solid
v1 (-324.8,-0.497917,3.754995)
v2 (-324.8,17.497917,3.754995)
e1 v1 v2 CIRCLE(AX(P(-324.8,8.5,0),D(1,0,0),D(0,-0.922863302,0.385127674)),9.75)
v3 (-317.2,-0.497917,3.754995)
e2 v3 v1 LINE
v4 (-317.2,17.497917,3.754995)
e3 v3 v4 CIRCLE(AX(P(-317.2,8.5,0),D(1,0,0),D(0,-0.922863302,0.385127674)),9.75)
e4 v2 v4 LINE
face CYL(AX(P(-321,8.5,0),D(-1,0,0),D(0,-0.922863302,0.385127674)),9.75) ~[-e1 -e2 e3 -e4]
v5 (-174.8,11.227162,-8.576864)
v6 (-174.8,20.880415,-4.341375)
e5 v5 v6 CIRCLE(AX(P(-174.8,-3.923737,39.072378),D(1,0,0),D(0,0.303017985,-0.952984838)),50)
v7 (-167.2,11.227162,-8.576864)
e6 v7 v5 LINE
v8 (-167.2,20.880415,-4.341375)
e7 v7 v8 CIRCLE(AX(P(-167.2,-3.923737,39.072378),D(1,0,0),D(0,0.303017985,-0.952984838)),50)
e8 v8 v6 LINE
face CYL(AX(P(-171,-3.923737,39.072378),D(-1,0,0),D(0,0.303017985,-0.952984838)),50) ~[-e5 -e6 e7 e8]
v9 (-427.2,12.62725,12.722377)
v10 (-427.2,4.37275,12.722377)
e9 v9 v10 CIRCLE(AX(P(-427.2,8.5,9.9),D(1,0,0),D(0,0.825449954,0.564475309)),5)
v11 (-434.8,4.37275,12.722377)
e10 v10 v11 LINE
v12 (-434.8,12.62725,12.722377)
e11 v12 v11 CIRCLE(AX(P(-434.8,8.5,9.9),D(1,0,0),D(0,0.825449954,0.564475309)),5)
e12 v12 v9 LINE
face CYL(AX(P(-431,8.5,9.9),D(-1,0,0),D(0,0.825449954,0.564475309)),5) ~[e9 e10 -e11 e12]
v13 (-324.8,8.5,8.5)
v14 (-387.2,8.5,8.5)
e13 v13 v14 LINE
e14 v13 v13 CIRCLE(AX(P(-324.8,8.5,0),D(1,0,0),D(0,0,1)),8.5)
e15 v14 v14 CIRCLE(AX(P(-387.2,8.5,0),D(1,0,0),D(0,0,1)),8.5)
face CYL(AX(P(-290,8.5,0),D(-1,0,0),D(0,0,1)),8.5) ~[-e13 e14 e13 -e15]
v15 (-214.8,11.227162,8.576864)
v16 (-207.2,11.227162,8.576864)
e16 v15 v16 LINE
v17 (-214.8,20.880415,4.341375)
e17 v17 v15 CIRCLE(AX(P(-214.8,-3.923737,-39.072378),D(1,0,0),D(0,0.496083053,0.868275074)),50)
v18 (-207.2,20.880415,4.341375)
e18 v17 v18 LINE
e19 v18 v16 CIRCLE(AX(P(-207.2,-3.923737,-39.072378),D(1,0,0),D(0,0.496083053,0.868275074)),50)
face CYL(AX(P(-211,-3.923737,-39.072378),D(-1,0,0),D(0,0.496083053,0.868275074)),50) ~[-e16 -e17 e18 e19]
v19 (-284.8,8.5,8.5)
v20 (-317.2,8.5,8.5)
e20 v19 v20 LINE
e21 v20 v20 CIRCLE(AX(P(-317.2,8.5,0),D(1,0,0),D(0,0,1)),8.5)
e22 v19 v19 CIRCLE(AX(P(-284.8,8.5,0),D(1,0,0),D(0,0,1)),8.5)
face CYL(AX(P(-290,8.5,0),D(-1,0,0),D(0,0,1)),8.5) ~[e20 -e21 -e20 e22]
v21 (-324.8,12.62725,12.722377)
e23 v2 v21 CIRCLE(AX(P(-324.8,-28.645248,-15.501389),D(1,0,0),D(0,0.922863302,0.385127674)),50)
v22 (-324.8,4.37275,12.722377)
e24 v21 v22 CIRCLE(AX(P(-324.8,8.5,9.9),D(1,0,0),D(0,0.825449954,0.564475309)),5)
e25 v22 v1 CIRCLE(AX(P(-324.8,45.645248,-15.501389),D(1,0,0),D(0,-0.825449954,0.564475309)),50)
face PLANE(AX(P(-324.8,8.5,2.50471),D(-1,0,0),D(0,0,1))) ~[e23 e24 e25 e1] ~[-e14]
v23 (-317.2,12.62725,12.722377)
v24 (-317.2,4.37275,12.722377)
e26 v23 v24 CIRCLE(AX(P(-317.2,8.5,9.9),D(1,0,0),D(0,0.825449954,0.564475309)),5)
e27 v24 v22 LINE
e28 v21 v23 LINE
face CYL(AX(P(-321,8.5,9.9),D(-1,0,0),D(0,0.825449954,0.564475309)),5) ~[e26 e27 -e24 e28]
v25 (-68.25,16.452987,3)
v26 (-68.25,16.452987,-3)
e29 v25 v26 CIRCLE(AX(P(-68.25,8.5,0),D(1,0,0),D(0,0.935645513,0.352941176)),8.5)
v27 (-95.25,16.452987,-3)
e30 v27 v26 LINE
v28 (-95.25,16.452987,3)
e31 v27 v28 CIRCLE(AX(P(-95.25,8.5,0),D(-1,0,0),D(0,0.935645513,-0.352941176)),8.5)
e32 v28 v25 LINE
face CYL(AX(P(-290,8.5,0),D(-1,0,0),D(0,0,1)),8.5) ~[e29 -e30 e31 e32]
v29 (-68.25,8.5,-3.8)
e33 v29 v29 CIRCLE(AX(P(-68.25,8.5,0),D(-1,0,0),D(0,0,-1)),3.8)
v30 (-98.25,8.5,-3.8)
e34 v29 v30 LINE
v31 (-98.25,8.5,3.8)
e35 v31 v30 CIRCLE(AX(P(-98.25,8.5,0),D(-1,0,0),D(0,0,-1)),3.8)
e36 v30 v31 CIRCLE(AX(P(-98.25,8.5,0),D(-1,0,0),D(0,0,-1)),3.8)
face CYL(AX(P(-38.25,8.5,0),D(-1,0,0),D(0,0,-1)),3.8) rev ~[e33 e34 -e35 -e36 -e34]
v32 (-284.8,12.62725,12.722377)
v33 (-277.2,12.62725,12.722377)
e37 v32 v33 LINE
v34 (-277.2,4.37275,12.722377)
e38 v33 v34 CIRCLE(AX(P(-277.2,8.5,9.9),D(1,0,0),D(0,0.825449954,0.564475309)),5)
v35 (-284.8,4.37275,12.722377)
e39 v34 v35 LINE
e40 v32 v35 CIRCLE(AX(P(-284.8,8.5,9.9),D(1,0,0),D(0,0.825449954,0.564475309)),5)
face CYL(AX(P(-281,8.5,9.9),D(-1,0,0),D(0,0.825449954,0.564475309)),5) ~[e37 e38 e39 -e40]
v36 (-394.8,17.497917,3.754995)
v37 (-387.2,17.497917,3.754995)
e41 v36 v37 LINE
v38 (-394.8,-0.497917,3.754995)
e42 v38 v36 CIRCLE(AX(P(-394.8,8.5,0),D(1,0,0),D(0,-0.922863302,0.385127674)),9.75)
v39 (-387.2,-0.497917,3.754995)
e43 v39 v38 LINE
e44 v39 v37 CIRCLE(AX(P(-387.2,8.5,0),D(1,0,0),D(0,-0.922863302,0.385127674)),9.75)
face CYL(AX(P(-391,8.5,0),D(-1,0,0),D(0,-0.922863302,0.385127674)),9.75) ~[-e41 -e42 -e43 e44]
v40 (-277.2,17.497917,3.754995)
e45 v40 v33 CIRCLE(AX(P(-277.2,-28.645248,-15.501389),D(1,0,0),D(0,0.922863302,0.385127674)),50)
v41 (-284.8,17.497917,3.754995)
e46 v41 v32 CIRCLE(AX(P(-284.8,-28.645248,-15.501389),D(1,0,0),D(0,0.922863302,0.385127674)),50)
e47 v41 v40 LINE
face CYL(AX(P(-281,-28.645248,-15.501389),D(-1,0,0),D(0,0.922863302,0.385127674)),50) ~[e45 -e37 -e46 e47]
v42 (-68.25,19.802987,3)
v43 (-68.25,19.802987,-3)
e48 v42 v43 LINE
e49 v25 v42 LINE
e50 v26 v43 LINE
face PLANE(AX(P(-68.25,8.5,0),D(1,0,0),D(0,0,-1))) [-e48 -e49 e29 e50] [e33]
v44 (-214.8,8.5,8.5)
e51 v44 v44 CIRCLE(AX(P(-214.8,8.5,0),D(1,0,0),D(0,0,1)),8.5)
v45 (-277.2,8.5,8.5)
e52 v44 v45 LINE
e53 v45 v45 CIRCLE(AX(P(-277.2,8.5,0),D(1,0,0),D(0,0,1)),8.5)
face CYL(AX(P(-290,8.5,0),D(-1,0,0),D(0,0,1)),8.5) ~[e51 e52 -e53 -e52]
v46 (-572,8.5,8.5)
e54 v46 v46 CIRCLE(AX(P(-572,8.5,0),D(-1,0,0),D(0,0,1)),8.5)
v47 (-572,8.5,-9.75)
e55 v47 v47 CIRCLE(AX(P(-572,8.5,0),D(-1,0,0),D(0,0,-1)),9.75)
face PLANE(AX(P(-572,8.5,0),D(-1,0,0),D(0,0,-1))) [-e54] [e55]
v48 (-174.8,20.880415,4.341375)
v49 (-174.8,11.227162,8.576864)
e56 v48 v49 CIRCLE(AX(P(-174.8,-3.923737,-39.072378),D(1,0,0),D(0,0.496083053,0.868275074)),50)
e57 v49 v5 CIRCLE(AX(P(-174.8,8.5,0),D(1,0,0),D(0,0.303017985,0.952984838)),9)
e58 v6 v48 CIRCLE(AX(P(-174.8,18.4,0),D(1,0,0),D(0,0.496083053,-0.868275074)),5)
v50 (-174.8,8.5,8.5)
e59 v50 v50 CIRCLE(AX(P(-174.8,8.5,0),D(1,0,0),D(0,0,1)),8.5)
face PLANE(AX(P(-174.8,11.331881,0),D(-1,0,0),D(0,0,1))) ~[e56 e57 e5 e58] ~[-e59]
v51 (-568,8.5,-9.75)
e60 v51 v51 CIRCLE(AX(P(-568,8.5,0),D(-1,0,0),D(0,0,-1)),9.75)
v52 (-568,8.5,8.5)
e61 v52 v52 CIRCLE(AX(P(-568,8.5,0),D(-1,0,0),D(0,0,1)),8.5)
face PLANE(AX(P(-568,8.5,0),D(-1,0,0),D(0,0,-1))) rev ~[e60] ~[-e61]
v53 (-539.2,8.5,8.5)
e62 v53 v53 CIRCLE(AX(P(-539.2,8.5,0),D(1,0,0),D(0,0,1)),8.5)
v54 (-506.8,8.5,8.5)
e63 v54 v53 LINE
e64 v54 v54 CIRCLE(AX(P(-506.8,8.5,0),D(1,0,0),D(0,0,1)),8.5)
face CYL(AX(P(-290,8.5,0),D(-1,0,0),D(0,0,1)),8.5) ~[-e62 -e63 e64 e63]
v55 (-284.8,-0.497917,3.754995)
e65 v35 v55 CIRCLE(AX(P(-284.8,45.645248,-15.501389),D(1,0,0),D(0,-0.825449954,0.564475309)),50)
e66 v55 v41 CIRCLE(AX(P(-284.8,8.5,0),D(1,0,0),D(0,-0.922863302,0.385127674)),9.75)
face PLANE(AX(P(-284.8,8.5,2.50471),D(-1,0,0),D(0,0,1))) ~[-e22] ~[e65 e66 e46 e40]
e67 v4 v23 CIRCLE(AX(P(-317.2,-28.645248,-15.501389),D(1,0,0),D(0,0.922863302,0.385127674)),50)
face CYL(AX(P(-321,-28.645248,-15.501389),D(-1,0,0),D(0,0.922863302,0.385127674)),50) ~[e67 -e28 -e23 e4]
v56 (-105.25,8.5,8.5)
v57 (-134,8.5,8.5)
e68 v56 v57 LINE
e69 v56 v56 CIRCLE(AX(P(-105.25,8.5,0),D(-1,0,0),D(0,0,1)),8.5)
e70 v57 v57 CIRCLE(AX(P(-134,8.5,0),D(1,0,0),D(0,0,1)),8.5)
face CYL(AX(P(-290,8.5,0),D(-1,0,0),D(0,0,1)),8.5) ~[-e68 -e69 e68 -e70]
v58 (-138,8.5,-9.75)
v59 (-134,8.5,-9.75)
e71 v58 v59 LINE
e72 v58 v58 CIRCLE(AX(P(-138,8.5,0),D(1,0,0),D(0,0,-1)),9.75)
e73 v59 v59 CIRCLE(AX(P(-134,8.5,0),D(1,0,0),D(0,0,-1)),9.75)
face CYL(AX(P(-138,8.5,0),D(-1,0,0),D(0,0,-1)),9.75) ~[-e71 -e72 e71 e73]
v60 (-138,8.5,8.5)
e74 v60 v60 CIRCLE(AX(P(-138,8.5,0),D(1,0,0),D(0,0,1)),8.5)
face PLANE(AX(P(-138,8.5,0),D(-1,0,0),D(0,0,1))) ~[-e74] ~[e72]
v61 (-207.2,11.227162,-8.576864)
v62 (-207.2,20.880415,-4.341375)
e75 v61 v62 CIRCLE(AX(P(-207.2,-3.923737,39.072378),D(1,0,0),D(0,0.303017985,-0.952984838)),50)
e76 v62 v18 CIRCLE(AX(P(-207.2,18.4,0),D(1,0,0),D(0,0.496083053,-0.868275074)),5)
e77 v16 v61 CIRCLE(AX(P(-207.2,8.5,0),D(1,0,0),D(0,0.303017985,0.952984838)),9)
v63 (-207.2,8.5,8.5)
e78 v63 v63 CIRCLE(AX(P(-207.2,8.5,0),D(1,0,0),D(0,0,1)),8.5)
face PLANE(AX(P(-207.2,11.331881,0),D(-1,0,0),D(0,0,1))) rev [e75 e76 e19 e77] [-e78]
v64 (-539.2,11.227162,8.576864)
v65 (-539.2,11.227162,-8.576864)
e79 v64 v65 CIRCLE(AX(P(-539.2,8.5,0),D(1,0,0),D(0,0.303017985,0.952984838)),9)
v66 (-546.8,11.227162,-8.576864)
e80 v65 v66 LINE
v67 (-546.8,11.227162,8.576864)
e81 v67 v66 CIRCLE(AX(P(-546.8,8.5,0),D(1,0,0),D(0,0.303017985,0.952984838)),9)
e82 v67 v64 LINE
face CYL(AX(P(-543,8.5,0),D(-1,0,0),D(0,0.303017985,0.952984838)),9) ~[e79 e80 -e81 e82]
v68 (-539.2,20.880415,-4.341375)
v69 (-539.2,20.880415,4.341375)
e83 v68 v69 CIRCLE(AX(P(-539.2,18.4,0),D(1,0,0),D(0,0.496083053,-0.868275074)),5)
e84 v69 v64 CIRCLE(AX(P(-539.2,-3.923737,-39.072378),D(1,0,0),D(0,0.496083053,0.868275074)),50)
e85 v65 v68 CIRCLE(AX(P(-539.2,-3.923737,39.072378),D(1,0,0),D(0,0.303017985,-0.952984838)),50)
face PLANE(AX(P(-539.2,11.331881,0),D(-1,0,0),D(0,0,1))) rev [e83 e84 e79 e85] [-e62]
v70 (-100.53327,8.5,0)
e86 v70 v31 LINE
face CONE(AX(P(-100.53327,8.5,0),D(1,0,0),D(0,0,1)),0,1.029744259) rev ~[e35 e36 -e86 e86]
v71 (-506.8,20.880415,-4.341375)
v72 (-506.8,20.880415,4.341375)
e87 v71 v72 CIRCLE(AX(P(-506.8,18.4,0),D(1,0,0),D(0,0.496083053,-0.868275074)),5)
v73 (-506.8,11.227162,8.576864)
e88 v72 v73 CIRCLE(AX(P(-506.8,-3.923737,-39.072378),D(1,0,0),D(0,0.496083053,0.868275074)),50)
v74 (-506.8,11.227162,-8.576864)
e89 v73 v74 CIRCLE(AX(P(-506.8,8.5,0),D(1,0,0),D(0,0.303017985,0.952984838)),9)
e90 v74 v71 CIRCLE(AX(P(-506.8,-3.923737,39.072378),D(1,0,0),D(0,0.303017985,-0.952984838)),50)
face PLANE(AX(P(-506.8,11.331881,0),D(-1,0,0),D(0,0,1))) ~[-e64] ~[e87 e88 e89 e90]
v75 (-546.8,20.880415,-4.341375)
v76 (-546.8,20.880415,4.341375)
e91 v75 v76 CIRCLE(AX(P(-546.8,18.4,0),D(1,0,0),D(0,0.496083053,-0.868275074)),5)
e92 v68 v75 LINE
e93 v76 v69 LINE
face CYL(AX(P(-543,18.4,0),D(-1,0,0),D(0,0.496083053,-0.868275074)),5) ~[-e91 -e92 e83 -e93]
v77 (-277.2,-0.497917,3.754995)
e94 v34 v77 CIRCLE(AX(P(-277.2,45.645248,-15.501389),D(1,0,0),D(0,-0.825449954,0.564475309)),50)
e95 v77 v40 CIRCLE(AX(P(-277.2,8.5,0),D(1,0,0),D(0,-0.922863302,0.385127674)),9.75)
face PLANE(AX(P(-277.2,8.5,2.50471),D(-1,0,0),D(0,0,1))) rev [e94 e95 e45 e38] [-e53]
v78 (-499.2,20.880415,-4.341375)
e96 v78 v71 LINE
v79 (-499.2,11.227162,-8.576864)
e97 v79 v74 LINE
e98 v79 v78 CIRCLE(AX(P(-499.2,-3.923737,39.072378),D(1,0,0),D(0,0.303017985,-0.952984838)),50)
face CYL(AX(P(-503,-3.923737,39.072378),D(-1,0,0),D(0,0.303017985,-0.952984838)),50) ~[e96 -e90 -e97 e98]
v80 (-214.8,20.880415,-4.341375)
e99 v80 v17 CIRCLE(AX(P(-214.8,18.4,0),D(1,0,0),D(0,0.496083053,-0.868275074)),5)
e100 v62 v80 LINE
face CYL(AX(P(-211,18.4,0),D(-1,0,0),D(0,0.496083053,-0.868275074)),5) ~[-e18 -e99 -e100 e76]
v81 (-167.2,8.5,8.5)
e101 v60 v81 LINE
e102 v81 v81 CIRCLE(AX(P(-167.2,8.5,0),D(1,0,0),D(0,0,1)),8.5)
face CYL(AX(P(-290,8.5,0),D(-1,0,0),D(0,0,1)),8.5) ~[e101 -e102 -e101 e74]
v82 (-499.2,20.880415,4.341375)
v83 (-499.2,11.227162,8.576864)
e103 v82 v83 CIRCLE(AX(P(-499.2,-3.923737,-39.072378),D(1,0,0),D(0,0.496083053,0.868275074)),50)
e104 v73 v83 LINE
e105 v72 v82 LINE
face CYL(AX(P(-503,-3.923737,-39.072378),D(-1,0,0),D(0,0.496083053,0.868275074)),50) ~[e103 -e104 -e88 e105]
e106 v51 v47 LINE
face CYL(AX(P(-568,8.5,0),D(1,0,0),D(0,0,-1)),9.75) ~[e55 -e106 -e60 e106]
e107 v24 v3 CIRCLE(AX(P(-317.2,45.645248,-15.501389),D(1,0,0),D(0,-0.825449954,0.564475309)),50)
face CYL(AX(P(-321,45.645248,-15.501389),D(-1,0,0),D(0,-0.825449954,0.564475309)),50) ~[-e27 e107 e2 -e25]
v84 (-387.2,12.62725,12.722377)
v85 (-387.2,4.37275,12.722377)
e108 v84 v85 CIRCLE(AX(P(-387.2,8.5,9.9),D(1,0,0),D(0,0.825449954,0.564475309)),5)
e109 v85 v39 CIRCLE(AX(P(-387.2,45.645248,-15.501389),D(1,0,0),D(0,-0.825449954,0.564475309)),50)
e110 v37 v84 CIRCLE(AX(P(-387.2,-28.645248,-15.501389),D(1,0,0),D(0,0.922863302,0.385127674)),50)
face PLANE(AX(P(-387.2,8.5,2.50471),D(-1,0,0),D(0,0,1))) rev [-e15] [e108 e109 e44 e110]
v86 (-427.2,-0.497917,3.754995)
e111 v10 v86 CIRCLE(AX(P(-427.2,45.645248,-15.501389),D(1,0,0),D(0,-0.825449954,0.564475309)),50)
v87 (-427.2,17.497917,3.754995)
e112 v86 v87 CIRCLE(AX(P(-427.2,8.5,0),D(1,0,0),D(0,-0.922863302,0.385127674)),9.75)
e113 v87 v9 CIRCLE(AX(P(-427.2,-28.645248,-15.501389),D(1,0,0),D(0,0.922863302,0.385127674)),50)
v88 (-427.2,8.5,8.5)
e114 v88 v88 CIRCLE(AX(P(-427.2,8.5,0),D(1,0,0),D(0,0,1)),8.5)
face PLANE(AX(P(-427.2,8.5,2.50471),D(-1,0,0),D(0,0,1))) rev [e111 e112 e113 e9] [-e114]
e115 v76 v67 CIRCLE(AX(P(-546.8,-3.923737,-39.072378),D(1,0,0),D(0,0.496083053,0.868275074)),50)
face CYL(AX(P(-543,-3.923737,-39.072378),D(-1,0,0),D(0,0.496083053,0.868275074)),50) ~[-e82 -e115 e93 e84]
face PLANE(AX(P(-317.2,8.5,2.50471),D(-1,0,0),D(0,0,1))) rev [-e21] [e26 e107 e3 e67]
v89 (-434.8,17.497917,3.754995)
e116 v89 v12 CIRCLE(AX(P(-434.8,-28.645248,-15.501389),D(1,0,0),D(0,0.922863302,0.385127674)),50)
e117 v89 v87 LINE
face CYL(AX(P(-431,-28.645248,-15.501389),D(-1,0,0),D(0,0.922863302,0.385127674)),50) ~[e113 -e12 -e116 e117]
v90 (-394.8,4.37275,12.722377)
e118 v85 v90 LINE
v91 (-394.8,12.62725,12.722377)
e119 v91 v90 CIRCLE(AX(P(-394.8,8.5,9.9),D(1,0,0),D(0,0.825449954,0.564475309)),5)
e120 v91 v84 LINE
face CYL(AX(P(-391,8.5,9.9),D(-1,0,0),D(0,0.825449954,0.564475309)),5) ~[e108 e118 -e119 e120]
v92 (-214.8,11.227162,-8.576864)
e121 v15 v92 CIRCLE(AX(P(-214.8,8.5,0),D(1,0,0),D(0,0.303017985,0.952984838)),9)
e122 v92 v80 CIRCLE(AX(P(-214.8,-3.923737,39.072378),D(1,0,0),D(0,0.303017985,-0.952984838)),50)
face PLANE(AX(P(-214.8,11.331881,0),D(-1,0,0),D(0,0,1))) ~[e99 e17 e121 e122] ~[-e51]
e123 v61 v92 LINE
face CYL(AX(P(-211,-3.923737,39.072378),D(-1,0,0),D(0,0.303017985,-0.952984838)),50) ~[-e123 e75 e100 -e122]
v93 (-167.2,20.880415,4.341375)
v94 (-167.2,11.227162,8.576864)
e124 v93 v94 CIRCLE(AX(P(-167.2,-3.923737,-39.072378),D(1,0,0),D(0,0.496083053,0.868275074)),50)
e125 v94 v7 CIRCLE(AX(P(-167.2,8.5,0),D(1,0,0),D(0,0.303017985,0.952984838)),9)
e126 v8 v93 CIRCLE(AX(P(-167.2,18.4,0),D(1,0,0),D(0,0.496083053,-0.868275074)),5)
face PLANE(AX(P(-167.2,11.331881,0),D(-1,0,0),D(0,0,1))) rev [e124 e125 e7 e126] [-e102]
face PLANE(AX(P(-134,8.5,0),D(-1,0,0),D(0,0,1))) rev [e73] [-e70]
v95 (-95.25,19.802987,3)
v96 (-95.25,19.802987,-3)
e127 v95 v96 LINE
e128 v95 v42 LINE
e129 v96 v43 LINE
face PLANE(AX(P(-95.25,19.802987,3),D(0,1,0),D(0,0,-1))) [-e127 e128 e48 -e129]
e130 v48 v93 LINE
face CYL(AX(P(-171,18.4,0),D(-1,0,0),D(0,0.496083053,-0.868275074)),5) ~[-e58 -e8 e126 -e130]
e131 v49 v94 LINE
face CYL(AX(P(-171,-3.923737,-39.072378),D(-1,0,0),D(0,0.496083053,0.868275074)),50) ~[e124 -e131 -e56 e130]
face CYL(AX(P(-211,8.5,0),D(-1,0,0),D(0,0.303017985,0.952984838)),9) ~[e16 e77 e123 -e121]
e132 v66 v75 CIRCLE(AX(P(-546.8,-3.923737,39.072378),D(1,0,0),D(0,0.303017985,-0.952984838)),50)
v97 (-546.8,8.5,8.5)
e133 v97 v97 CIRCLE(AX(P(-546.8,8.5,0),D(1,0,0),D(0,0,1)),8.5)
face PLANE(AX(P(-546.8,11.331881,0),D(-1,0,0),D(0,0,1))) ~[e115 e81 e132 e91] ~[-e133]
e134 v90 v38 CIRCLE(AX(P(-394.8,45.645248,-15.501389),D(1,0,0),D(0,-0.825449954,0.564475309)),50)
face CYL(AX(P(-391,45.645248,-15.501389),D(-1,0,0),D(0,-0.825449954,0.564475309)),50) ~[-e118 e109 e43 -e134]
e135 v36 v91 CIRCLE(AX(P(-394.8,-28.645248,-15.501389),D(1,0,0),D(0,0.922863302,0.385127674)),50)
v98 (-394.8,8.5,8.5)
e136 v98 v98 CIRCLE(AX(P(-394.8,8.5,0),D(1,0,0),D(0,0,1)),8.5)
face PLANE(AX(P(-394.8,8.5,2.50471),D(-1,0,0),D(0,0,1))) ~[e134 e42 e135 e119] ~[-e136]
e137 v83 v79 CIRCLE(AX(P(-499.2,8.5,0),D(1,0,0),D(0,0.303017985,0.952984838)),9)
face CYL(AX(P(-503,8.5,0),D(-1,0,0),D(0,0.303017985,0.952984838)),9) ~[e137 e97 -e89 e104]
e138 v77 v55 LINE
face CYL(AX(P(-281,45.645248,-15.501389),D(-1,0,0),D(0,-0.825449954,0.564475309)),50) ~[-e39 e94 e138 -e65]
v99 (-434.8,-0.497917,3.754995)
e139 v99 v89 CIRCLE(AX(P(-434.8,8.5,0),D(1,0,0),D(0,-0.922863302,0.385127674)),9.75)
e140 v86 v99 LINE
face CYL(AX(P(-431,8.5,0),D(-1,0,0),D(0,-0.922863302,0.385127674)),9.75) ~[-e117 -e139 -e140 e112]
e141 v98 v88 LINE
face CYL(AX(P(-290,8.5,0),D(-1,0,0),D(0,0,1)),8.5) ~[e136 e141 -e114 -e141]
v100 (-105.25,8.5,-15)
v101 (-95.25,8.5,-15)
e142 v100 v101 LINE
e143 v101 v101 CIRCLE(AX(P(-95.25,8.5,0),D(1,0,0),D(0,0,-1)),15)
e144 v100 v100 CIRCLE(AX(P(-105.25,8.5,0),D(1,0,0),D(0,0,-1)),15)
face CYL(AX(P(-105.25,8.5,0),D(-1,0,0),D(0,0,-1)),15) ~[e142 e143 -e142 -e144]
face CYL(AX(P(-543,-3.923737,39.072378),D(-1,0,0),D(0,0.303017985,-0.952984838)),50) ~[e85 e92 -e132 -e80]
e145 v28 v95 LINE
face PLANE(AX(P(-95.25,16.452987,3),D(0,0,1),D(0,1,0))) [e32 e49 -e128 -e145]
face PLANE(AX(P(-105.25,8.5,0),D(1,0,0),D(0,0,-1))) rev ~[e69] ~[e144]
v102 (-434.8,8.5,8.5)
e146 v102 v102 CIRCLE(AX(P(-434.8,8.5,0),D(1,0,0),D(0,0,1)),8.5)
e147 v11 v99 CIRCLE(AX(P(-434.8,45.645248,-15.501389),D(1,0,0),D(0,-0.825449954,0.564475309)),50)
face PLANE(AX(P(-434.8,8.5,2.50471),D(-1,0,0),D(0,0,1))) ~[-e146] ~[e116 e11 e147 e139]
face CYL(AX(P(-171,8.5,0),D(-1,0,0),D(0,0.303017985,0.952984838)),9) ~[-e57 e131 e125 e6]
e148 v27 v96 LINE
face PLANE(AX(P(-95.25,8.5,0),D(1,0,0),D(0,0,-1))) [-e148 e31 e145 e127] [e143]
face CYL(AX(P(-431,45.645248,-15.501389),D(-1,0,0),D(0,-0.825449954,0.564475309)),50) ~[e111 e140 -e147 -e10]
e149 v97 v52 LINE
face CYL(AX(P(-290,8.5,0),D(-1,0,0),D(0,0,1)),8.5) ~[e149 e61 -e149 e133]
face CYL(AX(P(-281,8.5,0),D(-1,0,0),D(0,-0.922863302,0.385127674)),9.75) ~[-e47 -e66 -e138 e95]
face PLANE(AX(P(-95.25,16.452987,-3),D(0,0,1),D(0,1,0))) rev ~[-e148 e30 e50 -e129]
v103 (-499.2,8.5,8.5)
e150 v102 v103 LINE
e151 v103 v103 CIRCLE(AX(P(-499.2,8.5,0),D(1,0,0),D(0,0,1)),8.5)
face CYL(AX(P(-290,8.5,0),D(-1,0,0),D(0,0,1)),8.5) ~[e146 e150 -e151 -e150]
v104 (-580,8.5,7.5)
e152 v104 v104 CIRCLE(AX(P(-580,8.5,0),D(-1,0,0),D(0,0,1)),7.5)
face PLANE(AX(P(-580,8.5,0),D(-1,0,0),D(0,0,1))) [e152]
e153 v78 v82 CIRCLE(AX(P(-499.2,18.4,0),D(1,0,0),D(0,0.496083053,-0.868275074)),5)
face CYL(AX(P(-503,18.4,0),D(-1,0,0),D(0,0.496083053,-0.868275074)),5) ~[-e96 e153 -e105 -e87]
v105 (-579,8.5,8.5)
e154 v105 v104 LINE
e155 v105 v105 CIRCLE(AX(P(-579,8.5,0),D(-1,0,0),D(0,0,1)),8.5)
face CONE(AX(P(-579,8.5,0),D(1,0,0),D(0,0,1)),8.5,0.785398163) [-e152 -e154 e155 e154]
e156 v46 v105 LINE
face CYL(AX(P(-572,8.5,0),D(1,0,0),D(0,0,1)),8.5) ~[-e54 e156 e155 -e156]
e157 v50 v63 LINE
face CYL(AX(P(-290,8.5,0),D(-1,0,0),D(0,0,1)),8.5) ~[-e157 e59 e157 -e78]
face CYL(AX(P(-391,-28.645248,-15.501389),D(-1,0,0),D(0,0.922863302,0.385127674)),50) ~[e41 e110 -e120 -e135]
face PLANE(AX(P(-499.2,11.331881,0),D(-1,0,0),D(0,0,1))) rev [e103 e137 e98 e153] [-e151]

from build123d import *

# Parameters (mm, degrees)
CROQUIS1_W                       = 580
CROQUIS1_H                       = 8.5
CROQUIS4_R                       = 9.75
SALIENTE_EXTRUIR1_DEPTH          = 4
MATRIZL1_COUNT                   = 2
MATRIZL1_PITCH                   = 442
SALIENTE_EXTRUIR3_DEPTH          = 3.8
MATRIZL2_COUNT                   = 2
MATRIZL2_PITCH                   = 40
MATRIZL3_COUNT                   = 2
MATRIZL3_PITCH                   = 332
MATRIZL3_COPY_1_DEPTH            = 3.8
CROQUIS6_R                       = 8.5
SALIENTE_EXTRUIR4_DEPTH          = 3.8
MATRIZL4_COUNT                   = 2
MATRIZL4_PITCH                   = 40
MATRIZL5_COUNT                   = 2
MATRIZL5_PITCH                   = 110
MATRIZL5_COPY_1_SKETCH_R         = 8.5
MATRIZL5_COPY_1_DEPTH            = 3.8
CROQUIS7_R                       = 9.75
CORTAR_EXTRUIR1_DEPTH            = 12
CROQUIS8_R                       = 9.75
SALIENTE_EXTRUIR5_DEPTH          = 4
CROQUIS9_R                       = 8.5
SALIENTE_EXTRUIR6_DEPTH          = 8
CHAFL_N1_SIZE                    = 1
SALIENTE_EXTRUIR7_DEPTH          = 5
SALIENTE_EXTRUIR7_DEPTH_BACK     = 5
CROQUIS10_R                      = 15
CROQUIS11_W                      = 6
CROQUIS11_H                      = 3.35
SALIENTE_EXTRUIR8_DEPTH          = 40
CORTAR_EXTRUIR2_START            = -68.25
CROQUIS12_R                      = 42.065931182
CORTAR_EXTRUIR2_DEPTH            = 68.25
TALADRO_DE_MARGEN_PARA_M71_D     = 7.6
TALADRO_DE_MARGEN_PARA_M71_DEPTH = 30
TALADRO_DE_MARGEN_PARA_M71_TIP   = 2.283270352


with BuildPart() as part:
    # Croquis1 → Revolución1 (revolve)
    with BuildSketch(Plane.XY, mode=Mode.PRIVATE) as revoluci_n1_sk:
        with Locations((290, 4.25)):
            Rectangle(CROQUIS1_W, CROQUIS1_H)
    revolve(revoluci_n1_sk.sketch.rotate(Axis((0, 8.5, 0), (1, 0, 0)), 270), axis=Axis((0, 8.5, 0), (1, 0, 0)))

    # Croquis4 → Saliente-Extruir1 (add)
    with BuildSketch(Plane(origin=(580, 0, 0), x_dir=(0, 0, -1), z_dir=(1, 0, 0))):
        with Locations((0, 8.5)):
            Circle(CROQUIS4_R)
    saliente_extruir1 = extrude(amount=-SALIENTE_EXTRUIR1_DEPTH)

    # MatrizL1: Saliente-Extruir1 ×2
    with Locations(*[(-i * MATRIZL1_PITCH, 0, 0) for i in range(1, MATRIZL1_COUNT)]):
        add(saliente_extruir1)

    # Croquis5 → Saliente-Extruir3 (add, symmetric)
    with BuildSketch(Plane(origin=(171, 0, 0), x_dir=(0, 0, -1), z_dir=(1, 0, 0))):
        with BuildLine():
            ThreePointArc((-8.57686354, 11.227161863), (0, -0.5), (8.57686354, 11.227161863))
            ThreePointArc((8.57686354, 11.227161863), (6.71423124, 16.165722115), (4.341375372, 20.880415264))
            ThreePointArc((4.341375372, 20.880415264), (0, 23.4), (-4.341375372, 20.880415264))
            ThreePointArc((-4.341375372, 20.880415264), (-6.71423124, 16.165722115), (-8.57686354, 11.227161863))
        make_face()
    saliente_extruir3 = extrude(amount=SALIENTE_EXTRUIR3_DEPTH, both=True)

    # MatrizL2: Saliente-Extruir3 ×2
    with Locations(*[(i * MATRIZL2_PITCH, 0, 0) for i in range(1, MATRIZL2_COUNT)]):
        add(saliente_extruir3)

    # MatrizL3: Saliente-Extruir3 ×2
    with Locations(*[(i * MATRIZL3_PITCH, 0, 0) for i in range(1, MATRIZL3_COUNT)]):
        add(saliente_extruir3)

    # MatrizL3 copy 1 sketch → MatrizL3 copy 1 (add, symmetric)
    with BuildSketch(Plane(origin=(543, 0, 0), x_dir=(0, 0, -1), z_dir=(1, 0, 0))):
        with BuildLine():
            ThreePointArc((-8.57686354, 11.227161863), (0, -0.5), (8.57686354, 11.227161863))
            ThreePointArc((8.57686354, 11.227161863), (6.71423124, 16.165722115), (4.341375372, 20.880415264))
            ThreePointArc((4.341375372, 20.880415264), (0, 23.4), (-4.341375372, 20.880415264))
            ThreePointArc((-4.341375372, 20.880415264), (-6.71423124, 16.165722115), (-8.57686354, 11.227161863))
        make_face()
    extrude(amount=MATRIZL3_COPY_1_DEPTH, both=True)

    # Croquis6 → Saliente-Extruir4 (add, symmetric)
    with BuildSketch(Plane(origin=(281, 0, 0), x_dir=(0, 0, -1), z_dir=(1, 0, 0))):
        with BuildLine():
            ThreePointArc((-12.722376543, 12.627249768), (-14.9, 8.5), (-12.722376543, 4.372750232))
            ThreePointArc((-12.722376543, 4.372750232), (-8.363270987, 1.70804262), (-3.754994824, -0.497917196))
            ThreePointArc((-3.754994824, -0.497917196), (9.75, 8.5), (-3.754994824, 17.497917196))
            ThreePointArc((-3.754994824, 17.497917196), (-8.363270987, 15.29195738), (-12.722376543, 12.627249768))
        make_face()
        with Locations(Location((0, 8.5, 0), (0, 0, 180))):
            Circle(CROQUIS6_R, mode=Mode.SUBTRACT)
    saliente_extruir4 = extrude(amount=SALIENTE_EXTRUIR4_DEPTH, both=True)

    # MatrizL4: Saliente-Extruir4 ×2
    with Locations(*[(i * MATRIZL4_PITCH, 0, 0) for i in range(1, MATRIZL4_COUNT)]):
        add(saliente_extruir4)

    # MatrizL5: Saliente-Extruir4 ×2
    with Locations(*[(i * MATRIZL5_PITCH, 0, 0) for i in range(1, MATRIZL5_COUNT)]):
        add(saliente_extruir4)

    # MatrizL5 copy 1 sketch → MatrizL5 copy 1 (add, symmetric)
    with BuildSketch(Plane(origin=(431, 0, 0), x_dir=(0, 0, -1), z_dir=(1, 0, 0))):
        with BuildLine():
            ThreePointArc((-12.722376543, 12.627249768), (-14.9, 8.5), (-12.722376543, 4.372750232))
            ThreePointArc((-12.722376543, 4.372750232), (-8.363270987, 1.70804262), (-3.754994824, -0.497917196))
            ThreePointArc((-3.754994824, -0.497917196), (9.75, 8.5), (-3.754994824, 17.497917196))
            ThreePointArc((-3.754994824, 17.497917196), (-8.363270987, 15.29195738), (-12.722376543, 12.627249768))
        make_face()
        with Locations(Location((0, 8.5, 0), (0, 0, 180))):
            Circle(MATRIZL5_COPY_1_SKETCH_R, mode=Mode.SUBTRACT)
    extrude(amount=MATRIZL5_COPY_1_DEPTH, both=True)


with BuildPart() as body_2:
    # Simetría1: mirrored copy
    add(part.part.mirror(Plane.ZY))

    # Croquis7 → Cortar-Extruir1 (cut)
    with BuildSketch(Plane.ZY.offset(580)):
        with Locations(Location((0, 8.5, 0), (0, 0, 180))):
            Circle(CROQUIS7_R)
    extrude(amount=-CORTAR_EXTRUIR1_DEPTH, mode=Mode.SUBTRACT)

    # Croquis8 → Saliente-Extruir5 (add)
    with BuildSketch(Plane.ZY.offset(568)):
        with Locations(Location((0, 8.5, 0), (0, 0, 180))):
            Circle(CROQUIS8_R)
    extrude(amount=SALIENTE_EXTRUIR5_DEPTH)

    # Croquis9 → Saliente-Extruir6 (add)
    with BuildSketch(Plane.ZY.offset(572)):
        with Locations((0, 8.5)):
            Circle(CROQUIS9_R)
    extrude(amount=SALIENTE_EXTRUIR6_DEPTH)

    # Chaflán1
    chafl_n1_edges = [body_2.edges().sort_by_distance(p)[0] for p in [
        (-580, 8.5, -8.5),
    ]]
    chamfer(chafl_n1_edges, length=CHAFL_N1_SIZE)

    # Croquis10 → Saliente-Extruir7 (add, two sides: drawn at the far end of the back side and taken through both)
    with BuildSketch(Plane(origin=(-100.25, 0, 0), x_dir=(0, 0, -1), z_dir=(1, 0, 0)).offset(-SALIENTE_EXTRUIR7_DEPTH_BACK)):
        with Locations((0, 8.5)):
            Circle(CROQUIS10_R)
    extrude(amount=SALIENTE_EXTRUIR7_DEPTH + SALIENTE_EXTRUIR7_DEPTH_BACK)

    # Croquis11 → Saliente-Extruir8 (add)
    with BuildSketch(Plane(origin=(-95.25, 0, 0), x_dir=(0, 0, -1), z_dir=(1, 0, 0))):
        with Locations((0, 18.12798686)):
            Rectangle(CROQUIS11_W, CROQUIS11_H)
    extrude(amount=SALIENTE_EXTRUIR8_DEPTH)

    # Croquis12 → Cortar-Extruir2 (cut)
    with BuildSketch(Plane(origin=(0, 0, 0), x_dir=(0, 0, -1), z_dir=(1, 0, 0)).offset(CORTAR_EXTRUIR2_START)):
        with Locations((0, 8.5)):
            Circle(CROQUIS12_R)
    extrude(amount=CORTAR_EXTRUIR2_DEPTH, mode=Mode.SUBTRACT)

    # Taladro de margen para M71
    with Locations(Plane(origin=(-68.25, 8.5, 0), x_dir=(0, 0, 1), z_dir=(1, 0, 0))):
        with Locations((0, 0)):
            Hole(TALADRO_DE_MARGEN_PARA_M71_D / 2, depth=TALADRO_DE_MARGEN_PARA_M71_DEPTH)
            with Locations((0, 0, -(TALADRO_DE_MARGEN_PARA_M71_DEPTH + TALADRO_DE_MARGEN_PARA_M71_TIP / 2))):  # 118° drill point
                Cone(0, TALADRO_DE_MARGEN_PARA_M71_D / 2, TALADRO_DE_MARGEN_PARA_M71_TIP, mode=Mode.SUBTRACT)


solid = body_2.part
